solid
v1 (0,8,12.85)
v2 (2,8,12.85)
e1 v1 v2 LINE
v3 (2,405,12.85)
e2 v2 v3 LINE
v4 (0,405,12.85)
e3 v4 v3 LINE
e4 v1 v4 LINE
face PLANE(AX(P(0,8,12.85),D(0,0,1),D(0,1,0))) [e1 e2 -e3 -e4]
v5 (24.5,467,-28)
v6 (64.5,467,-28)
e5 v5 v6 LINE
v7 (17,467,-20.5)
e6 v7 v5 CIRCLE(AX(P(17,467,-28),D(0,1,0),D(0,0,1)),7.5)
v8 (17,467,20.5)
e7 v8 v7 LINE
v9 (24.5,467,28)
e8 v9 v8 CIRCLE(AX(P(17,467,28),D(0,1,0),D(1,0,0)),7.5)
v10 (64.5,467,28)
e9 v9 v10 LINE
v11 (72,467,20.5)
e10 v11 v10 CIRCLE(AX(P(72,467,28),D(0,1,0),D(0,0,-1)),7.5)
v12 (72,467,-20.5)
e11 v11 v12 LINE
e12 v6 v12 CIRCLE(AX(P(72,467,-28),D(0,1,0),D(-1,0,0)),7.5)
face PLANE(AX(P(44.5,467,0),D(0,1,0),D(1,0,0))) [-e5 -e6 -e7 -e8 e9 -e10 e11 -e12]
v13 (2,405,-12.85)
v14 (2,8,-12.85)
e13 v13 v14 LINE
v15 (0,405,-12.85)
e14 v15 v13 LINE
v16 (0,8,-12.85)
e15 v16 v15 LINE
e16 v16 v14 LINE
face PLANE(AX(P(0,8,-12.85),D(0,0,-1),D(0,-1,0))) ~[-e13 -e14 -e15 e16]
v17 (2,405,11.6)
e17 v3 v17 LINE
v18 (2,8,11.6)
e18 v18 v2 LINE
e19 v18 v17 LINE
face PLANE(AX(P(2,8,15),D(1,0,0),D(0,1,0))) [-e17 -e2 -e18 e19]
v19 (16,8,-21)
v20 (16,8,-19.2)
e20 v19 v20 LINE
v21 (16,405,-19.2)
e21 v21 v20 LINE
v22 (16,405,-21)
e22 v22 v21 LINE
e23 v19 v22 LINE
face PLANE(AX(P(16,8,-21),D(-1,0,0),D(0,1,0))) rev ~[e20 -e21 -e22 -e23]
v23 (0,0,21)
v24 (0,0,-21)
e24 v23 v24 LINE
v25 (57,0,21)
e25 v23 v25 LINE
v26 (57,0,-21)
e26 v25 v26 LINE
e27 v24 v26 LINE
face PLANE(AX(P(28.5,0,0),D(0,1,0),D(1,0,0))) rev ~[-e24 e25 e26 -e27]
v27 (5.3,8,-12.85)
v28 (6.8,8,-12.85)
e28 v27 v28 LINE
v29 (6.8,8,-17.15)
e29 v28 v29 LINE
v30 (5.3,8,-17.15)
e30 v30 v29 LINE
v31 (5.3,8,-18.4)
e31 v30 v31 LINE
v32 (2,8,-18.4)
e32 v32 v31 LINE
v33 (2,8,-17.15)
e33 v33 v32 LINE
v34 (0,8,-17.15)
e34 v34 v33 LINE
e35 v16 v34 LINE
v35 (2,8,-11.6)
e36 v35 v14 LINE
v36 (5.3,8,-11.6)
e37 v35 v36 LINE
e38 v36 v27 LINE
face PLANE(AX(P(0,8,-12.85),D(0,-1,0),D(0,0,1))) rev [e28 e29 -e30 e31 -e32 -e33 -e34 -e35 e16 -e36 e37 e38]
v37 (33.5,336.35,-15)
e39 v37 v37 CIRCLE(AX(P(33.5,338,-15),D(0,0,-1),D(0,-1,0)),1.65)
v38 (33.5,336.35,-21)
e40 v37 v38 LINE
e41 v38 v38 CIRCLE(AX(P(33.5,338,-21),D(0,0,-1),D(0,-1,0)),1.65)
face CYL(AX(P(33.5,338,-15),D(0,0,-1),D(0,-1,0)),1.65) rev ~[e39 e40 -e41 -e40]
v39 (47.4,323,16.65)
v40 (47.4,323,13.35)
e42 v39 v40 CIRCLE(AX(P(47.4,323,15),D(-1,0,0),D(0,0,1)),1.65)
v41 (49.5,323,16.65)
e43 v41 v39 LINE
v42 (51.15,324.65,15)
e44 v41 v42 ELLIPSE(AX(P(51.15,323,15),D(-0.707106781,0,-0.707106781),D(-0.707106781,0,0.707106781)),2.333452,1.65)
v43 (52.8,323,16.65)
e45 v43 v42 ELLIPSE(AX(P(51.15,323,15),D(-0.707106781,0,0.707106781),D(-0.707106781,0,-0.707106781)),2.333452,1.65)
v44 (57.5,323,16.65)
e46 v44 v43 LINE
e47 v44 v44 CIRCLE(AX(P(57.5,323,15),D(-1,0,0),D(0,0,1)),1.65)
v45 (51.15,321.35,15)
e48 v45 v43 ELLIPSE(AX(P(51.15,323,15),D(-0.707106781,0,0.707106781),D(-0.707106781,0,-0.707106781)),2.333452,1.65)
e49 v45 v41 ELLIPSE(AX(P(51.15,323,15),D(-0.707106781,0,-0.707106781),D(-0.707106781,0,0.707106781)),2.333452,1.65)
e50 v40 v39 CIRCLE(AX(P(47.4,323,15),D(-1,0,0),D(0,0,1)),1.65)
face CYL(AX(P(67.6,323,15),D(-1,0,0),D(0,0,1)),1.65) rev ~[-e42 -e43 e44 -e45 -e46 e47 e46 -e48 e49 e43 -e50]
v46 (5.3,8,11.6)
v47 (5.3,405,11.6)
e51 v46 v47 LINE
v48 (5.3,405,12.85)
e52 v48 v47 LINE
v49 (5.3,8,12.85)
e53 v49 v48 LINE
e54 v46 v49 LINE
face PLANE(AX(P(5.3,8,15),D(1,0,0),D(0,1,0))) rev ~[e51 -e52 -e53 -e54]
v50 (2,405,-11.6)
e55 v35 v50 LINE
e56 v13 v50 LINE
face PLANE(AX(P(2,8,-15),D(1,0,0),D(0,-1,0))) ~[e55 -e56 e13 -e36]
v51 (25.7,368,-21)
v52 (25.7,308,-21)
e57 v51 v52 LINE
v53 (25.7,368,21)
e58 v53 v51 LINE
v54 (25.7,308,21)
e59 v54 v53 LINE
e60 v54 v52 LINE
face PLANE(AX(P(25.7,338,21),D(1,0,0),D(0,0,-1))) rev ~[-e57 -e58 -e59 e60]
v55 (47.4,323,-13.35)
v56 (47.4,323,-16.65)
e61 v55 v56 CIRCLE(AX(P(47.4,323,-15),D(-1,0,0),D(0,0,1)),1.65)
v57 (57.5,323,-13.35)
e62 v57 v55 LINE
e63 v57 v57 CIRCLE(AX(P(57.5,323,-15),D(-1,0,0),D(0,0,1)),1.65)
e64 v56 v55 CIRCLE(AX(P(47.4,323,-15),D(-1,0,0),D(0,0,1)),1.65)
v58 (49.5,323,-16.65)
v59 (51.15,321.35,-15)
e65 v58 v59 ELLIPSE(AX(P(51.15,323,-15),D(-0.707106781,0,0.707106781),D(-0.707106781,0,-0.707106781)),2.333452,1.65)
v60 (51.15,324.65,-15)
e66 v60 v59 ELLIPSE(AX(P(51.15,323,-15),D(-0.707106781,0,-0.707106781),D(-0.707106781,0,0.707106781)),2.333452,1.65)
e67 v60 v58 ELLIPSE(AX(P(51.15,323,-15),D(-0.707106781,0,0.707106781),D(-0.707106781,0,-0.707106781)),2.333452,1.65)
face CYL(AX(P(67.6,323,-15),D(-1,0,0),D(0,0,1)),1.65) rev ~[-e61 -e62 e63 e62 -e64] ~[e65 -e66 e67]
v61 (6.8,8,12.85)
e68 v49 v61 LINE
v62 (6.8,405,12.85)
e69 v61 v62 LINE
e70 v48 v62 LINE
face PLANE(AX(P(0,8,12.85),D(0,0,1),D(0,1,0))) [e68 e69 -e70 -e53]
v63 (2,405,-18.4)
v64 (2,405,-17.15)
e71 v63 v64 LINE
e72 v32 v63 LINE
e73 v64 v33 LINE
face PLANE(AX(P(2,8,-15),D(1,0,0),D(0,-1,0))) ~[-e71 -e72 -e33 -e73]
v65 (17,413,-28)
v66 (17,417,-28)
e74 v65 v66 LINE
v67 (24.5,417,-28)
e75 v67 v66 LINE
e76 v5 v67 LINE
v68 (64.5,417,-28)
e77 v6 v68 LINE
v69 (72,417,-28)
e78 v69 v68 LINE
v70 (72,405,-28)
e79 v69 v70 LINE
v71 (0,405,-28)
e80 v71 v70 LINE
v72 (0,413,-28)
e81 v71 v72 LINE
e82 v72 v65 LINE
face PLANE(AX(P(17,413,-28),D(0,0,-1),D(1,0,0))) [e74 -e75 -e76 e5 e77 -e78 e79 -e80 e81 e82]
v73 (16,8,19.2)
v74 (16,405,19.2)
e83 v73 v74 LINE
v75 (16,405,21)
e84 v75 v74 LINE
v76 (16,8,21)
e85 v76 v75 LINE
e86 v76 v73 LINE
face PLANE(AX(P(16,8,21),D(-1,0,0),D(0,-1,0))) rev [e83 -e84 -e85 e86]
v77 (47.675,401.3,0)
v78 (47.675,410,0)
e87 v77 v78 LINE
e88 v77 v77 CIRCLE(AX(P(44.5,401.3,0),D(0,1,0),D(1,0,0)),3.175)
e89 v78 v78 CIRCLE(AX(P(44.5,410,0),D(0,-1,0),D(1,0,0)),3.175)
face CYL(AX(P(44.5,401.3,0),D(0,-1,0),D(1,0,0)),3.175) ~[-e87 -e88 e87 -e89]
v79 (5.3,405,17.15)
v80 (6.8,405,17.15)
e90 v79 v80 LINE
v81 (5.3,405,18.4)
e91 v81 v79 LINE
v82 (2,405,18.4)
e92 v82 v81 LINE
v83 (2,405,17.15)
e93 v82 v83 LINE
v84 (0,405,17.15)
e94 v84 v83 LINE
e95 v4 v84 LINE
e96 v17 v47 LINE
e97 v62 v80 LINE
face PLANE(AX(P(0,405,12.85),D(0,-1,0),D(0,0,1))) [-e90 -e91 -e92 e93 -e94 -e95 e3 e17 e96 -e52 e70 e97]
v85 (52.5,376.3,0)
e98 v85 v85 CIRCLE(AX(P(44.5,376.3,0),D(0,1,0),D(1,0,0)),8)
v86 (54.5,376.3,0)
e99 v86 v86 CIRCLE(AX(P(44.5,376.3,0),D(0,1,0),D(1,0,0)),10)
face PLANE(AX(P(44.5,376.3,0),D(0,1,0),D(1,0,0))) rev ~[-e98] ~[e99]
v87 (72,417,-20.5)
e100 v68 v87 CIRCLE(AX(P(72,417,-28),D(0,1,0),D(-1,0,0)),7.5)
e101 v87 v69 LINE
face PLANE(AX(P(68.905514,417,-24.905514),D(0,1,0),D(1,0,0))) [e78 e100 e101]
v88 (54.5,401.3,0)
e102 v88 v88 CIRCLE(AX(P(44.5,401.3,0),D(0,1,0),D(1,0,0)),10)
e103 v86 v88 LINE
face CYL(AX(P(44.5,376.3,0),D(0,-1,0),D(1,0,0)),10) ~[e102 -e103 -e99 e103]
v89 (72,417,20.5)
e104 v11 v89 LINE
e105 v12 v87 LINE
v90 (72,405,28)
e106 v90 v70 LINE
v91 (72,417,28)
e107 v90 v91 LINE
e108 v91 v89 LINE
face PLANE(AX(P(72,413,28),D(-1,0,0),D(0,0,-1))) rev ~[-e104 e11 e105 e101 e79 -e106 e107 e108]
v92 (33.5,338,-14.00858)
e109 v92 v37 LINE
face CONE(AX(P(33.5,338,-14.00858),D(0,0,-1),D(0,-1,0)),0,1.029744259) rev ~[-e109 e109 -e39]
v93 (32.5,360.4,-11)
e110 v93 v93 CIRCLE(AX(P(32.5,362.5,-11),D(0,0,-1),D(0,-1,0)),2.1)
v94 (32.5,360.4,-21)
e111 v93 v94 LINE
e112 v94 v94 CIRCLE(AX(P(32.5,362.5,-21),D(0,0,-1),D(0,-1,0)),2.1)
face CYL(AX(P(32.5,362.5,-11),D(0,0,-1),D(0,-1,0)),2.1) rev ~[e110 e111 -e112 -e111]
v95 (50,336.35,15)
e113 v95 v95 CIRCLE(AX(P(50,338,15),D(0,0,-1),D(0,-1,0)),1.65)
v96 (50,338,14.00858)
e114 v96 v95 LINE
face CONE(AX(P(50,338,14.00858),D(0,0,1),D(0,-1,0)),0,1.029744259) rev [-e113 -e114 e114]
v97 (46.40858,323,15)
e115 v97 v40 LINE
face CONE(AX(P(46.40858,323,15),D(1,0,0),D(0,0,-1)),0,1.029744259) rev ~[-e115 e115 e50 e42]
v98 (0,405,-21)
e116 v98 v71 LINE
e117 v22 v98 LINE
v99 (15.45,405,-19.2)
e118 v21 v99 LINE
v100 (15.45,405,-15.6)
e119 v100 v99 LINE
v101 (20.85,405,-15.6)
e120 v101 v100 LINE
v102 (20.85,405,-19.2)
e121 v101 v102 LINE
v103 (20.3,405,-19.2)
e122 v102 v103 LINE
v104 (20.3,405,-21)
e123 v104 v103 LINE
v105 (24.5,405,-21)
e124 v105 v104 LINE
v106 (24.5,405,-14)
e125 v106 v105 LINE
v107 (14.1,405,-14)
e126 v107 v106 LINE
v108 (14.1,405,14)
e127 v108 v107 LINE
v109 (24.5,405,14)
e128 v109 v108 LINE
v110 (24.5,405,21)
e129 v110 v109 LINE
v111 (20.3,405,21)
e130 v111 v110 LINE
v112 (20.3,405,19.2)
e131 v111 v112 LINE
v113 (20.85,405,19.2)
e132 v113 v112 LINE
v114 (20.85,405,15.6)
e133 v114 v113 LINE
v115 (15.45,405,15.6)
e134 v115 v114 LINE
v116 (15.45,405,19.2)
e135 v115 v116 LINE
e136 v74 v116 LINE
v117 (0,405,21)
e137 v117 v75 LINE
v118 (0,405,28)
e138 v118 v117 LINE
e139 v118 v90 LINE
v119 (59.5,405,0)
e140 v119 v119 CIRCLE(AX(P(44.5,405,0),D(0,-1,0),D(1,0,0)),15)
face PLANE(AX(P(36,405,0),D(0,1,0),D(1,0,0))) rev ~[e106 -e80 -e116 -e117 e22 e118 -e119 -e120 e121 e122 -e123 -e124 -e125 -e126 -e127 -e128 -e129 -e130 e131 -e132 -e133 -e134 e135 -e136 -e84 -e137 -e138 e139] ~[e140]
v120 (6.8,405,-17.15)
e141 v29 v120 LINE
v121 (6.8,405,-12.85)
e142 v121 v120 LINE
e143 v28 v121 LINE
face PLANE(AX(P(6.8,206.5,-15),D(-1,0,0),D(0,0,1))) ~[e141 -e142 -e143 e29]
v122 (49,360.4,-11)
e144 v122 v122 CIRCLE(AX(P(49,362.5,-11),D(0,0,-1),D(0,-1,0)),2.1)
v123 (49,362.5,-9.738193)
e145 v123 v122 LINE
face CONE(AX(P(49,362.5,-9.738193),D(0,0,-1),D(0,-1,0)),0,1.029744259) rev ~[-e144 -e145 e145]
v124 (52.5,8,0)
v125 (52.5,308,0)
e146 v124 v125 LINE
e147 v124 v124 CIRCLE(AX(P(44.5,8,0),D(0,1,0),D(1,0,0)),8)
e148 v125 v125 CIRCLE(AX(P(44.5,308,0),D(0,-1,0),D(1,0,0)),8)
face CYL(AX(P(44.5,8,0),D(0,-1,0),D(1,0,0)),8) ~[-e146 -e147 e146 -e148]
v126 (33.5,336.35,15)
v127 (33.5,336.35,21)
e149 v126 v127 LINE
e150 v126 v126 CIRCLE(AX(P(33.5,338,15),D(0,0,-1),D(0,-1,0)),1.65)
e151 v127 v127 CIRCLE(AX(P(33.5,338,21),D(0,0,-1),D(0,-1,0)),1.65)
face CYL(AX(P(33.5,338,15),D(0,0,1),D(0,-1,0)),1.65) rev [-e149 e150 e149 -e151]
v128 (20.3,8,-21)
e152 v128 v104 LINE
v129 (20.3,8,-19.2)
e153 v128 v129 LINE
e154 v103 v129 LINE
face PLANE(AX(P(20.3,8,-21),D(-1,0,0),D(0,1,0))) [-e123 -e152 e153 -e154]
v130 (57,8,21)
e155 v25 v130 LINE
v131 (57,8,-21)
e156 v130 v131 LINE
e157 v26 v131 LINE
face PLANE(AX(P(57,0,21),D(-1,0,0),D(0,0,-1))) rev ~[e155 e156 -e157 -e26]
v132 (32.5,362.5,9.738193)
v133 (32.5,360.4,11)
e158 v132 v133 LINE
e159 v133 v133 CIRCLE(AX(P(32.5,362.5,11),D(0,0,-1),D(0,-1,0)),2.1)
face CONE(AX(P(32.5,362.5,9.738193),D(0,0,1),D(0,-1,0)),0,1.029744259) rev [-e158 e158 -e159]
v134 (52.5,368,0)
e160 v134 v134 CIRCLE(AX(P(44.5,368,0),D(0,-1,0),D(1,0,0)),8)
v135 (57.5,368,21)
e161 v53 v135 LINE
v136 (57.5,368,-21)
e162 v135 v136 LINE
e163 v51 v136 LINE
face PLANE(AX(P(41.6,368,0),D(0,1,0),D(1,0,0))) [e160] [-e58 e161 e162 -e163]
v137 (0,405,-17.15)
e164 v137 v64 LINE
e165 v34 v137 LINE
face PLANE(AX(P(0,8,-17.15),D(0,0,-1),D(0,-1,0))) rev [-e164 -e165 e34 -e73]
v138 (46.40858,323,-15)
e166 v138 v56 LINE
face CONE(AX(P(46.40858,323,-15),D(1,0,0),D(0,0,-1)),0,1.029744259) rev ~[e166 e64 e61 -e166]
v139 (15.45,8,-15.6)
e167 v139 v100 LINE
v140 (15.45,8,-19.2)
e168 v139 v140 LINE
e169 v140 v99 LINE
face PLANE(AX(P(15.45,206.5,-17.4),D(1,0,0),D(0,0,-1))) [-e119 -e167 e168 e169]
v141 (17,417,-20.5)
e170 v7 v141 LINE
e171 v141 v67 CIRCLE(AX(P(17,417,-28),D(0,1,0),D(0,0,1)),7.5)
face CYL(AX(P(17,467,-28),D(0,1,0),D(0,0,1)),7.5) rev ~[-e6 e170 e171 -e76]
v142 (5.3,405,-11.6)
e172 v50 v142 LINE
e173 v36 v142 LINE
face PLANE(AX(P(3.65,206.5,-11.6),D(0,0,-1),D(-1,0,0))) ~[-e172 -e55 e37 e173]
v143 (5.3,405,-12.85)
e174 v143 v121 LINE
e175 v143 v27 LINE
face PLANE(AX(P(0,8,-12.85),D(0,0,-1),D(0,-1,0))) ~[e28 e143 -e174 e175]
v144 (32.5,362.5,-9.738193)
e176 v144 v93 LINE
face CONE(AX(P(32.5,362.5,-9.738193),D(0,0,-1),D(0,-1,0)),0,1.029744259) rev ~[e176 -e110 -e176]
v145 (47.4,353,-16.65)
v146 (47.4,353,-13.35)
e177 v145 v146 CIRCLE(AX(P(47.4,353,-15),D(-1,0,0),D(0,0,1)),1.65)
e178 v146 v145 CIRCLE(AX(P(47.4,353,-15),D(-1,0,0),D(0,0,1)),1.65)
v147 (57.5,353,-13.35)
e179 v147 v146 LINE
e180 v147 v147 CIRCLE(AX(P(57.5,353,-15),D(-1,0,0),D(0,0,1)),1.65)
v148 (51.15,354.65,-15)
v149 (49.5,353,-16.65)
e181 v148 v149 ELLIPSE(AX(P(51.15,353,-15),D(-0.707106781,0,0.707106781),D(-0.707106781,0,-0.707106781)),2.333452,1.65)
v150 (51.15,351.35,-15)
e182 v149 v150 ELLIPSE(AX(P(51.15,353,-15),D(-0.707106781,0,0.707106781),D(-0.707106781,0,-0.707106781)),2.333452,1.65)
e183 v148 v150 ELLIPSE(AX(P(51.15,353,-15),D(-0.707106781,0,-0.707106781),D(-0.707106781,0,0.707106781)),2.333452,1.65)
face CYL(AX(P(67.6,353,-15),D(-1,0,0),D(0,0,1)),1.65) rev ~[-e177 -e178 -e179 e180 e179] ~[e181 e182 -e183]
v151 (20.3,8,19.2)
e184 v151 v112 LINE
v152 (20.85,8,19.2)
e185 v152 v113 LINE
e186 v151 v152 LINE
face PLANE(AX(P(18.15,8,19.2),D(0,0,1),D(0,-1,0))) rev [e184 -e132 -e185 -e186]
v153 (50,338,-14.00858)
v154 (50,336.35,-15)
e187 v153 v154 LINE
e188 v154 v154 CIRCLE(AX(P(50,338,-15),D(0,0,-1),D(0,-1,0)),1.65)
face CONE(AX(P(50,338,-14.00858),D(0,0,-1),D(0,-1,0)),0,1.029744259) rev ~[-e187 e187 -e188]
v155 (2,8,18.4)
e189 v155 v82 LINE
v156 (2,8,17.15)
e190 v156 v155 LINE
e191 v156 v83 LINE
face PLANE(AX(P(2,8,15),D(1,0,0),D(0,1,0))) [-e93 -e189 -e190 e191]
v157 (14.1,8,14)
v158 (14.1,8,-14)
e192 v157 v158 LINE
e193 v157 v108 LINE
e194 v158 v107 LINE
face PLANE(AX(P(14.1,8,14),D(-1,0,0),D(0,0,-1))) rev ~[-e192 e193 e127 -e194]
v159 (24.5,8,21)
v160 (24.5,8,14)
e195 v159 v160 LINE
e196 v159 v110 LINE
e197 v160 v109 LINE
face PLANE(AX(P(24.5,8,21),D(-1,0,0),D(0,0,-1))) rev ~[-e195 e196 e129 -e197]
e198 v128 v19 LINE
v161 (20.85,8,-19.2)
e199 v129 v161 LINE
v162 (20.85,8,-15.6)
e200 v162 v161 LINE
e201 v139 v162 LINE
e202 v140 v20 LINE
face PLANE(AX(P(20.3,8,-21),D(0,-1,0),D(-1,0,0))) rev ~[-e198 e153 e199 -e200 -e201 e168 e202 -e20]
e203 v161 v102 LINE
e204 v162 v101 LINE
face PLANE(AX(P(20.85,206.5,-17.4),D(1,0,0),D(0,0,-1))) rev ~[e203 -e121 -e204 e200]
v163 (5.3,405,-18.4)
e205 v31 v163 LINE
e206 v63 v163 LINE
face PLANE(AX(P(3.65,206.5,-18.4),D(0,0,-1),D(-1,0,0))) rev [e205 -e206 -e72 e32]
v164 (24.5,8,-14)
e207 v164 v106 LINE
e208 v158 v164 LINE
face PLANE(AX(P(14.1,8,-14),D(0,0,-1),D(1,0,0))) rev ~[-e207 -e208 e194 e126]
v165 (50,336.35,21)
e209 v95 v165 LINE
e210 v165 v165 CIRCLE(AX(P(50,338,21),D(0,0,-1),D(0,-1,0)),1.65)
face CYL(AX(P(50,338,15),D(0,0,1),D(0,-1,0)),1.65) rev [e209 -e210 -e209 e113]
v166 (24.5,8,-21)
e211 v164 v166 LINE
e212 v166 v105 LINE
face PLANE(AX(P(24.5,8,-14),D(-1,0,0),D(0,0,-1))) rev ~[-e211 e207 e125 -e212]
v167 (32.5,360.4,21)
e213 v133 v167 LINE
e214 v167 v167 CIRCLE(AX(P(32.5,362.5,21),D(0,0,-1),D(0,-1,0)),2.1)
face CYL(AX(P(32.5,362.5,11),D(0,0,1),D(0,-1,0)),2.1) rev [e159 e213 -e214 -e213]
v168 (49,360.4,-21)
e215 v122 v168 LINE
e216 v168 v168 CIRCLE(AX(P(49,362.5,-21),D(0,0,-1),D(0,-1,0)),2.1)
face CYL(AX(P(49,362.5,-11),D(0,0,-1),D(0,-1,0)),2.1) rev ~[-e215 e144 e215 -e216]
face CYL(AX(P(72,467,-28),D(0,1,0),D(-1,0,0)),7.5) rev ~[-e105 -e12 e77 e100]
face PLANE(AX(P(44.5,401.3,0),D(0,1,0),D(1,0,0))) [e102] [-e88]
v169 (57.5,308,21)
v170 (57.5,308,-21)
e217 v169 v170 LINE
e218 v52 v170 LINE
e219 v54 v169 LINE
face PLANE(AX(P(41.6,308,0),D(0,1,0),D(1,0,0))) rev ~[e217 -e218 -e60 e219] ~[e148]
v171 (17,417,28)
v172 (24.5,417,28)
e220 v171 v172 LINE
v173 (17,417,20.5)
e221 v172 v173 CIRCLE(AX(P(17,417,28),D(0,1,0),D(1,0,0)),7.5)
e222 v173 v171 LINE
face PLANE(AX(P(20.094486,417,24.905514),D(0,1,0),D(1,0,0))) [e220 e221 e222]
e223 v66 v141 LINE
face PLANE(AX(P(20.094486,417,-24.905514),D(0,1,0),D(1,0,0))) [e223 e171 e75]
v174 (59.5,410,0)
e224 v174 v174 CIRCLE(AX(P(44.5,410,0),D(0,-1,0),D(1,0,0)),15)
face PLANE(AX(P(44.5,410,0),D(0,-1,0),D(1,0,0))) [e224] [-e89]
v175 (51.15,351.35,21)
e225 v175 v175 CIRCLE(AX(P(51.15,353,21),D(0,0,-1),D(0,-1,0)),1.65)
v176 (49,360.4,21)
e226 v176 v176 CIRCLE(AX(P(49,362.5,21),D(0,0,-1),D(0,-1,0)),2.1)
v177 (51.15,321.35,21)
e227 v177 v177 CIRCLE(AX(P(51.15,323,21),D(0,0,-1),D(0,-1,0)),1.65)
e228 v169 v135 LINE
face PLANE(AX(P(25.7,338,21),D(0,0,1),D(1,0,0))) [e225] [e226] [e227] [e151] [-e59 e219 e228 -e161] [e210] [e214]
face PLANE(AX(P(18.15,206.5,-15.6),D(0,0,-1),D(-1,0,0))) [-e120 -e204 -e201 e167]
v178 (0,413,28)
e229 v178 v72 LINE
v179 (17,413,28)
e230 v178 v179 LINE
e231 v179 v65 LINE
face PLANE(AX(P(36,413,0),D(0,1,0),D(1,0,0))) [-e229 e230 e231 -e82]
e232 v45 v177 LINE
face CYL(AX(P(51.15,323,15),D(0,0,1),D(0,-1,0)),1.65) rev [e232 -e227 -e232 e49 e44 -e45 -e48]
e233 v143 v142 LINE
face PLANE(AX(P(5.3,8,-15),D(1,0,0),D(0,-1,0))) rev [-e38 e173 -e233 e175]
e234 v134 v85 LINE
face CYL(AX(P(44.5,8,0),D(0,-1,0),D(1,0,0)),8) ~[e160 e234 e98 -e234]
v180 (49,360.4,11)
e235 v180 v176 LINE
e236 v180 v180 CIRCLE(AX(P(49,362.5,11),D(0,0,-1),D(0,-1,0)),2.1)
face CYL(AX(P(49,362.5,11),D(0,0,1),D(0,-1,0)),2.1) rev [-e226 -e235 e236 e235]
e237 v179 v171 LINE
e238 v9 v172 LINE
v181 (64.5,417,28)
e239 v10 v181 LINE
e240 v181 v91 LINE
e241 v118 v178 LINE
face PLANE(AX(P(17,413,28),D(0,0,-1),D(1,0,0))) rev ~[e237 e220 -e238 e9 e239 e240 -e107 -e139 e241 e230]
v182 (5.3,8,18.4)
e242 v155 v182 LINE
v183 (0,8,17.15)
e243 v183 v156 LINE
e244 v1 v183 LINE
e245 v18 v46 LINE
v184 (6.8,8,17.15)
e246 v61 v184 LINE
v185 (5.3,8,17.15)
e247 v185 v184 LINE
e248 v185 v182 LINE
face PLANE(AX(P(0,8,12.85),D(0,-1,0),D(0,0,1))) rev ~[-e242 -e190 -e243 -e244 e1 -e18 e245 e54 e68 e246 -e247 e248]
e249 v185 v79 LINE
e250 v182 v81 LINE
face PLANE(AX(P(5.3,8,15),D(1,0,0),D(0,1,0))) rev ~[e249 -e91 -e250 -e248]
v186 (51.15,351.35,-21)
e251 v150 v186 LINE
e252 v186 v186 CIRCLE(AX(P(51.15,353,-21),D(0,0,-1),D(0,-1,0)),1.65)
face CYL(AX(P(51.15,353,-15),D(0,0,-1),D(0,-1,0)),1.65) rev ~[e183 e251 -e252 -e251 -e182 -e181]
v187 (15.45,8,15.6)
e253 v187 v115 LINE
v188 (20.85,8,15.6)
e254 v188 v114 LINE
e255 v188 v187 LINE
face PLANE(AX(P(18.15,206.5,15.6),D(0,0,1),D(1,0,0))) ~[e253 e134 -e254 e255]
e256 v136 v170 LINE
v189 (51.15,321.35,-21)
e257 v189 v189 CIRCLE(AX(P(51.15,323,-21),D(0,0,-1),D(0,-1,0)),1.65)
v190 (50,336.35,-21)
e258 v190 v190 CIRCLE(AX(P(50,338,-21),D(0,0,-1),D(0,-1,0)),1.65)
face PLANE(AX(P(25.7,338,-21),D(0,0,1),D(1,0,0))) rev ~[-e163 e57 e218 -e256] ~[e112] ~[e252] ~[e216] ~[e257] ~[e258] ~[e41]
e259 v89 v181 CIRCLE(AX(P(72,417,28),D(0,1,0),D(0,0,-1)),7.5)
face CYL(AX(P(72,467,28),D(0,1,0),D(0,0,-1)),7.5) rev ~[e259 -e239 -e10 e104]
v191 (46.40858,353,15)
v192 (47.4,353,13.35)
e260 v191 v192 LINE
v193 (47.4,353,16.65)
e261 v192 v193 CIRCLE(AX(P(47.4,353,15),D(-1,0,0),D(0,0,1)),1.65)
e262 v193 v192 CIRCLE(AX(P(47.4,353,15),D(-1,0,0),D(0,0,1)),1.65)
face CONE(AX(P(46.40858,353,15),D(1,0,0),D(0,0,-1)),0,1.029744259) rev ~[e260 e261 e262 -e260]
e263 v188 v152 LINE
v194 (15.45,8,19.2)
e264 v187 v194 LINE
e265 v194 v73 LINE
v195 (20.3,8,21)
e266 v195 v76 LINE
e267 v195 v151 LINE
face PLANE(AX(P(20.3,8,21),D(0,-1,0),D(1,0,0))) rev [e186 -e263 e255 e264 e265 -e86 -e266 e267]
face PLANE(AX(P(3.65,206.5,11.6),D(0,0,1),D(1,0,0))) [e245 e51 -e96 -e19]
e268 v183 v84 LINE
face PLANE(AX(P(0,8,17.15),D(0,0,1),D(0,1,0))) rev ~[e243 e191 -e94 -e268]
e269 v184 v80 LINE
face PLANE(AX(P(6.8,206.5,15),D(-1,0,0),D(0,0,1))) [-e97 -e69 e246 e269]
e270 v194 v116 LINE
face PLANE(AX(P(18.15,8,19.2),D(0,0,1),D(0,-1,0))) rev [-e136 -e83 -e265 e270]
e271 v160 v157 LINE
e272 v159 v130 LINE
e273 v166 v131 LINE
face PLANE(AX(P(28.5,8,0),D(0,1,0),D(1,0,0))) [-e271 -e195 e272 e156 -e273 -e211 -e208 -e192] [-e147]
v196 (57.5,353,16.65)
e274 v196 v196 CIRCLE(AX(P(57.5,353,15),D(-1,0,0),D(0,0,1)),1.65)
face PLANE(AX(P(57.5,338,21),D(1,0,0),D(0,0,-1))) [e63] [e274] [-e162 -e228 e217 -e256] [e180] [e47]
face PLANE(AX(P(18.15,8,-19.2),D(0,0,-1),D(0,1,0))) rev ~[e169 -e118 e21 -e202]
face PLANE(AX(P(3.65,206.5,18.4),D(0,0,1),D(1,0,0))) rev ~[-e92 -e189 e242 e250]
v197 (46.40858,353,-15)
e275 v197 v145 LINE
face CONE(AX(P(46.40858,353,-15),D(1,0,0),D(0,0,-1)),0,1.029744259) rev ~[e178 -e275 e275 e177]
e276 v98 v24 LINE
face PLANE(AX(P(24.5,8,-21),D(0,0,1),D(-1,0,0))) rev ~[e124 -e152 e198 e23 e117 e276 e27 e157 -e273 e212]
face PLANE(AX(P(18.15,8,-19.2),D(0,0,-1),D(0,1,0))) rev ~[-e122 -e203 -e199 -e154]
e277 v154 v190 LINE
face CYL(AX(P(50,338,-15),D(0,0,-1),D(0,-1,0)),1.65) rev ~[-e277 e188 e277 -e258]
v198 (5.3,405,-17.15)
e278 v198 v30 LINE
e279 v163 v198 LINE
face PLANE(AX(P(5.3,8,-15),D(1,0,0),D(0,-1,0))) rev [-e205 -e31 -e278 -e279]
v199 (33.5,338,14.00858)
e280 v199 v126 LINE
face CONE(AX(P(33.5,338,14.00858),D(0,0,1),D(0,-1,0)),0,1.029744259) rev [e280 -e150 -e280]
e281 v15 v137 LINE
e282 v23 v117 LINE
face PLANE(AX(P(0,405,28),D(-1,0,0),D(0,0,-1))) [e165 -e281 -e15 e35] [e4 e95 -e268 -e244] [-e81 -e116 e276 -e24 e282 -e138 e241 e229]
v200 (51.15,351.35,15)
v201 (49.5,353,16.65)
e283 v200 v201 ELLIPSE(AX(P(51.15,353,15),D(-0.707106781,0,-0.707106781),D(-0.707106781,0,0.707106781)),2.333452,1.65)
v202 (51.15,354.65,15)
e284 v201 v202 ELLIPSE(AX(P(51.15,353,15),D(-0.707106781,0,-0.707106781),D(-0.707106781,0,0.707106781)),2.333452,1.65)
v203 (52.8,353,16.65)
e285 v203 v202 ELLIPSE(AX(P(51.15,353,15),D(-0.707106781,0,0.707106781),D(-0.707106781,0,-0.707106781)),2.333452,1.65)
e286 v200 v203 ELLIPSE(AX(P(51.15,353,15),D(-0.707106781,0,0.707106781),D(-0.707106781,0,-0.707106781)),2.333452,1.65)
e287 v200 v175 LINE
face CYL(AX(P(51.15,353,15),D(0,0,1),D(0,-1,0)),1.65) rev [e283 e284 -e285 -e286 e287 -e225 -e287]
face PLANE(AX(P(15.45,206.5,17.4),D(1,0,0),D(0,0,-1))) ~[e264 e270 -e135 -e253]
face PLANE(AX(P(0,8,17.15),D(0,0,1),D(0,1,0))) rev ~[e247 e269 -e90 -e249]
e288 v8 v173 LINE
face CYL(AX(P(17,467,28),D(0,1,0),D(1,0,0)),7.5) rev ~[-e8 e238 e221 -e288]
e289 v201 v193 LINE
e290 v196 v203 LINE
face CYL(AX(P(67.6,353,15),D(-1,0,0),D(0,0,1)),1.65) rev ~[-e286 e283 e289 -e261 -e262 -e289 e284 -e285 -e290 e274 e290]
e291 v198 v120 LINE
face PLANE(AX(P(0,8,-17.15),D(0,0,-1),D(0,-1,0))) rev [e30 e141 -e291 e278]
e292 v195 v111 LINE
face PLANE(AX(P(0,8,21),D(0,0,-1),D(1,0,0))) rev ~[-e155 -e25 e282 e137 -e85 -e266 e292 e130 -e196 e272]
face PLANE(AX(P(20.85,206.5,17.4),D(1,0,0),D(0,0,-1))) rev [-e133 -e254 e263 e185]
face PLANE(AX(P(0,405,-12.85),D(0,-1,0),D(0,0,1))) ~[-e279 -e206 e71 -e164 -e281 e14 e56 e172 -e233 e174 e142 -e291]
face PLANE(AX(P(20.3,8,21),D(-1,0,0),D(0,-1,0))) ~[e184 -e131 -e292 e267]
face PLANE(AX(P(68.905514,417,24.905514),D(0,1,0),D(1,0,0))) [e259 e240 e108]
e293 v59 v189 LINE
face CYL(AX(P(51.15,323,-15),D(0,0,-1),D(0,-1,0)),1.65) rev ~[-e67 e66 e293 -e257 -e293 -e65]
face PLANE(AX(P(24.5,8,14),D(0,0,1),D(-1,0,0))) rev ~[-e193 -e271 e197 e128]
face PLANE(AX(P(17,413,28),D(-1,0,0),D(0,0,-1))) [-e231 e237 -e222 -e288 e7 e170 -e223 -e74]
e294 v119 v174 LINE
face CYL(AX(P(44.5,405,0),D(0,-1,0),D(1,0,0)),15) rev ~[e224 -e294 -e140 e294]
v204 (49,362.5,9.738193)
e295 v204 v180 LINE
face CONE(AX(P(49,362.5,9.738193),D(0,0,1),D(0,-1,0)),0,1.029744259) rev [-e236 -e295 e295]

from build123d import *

# Parameters (mm, degrees)
SKETCH1_W                      = 57
SKETCH1_H                      = 42
BOSS_EXTRUDE1_DEPTH            = 8
BOSS_EXTRUDE2_DEPTH            = 397
SKETCH3_W                      = 72
SKETCH3_H                      = 56
BOSS_EXTRUDE3_DEPTH            = 8
SKETCH4_W                      = 55
SKETCH4_H                      = 56
BOSS_EXTRUDE4_DEPTH            = 54
CUT_EXTRUDE1_DEPTH             = 50
SKETCH6_R                      = 8
BOSS_EXTRUDE5_DEPTH            = 368.3
SKETCH7_W                      = 31.8
SKETCH7_H                      = 42
BOSS_EXTRUDE6_DEPTH            = 30
SKETCH8_R                      = 10
BOSS_EXTRUDE7_DEPTH            = 25
SKETCH9_R                      = 15
CUT_EXTRUDE2_DEPTH             = 5
BOSS_EXTRUDE8_REACH            = 67.7
SKETCH10_R                     = 3.175
SKETCH11_W                     = 4.3
SKETCH11_H                     = 397
CUT_EXTRUDE3_DEPTH             = 5.4
SKETCH12_W                     = 3.6
SKETCH12_H                     = 397
CUT_EXTRUDE4_DEPTH             = 2.7
SKETCH13_W                     = 4.3
SKETCH13_H                     = 397
CUT_EXTRUDE5_DEPTH             = 6.8
SKETCH14_W                     = 3.3
SKETCH14_H                     = 397
CUT_EXTRUDE6_DEPTH             = 3.4
M4X0_7_TAPPED_HOLE1_D          = 3.3
M4X0_7_TAPPED_HOLE1_DEPTH      = 10.1
M4X0_7_TAPPED_HOLE1_TIP        = 0.991420021
M4X0_7_TAPPED_HOLE2_AT_2_COUNT = 2
M4X0_7_TAPPED_HOLE2_AT_2_PITCH = 30
M4X0_7_TAPPED_HOLE2_AT_3_COUNT = 2
M4X0_7_TAPPED_HOLE2_AT_3_PITCH = 15.044018745
M4X0_7_TAPPED_HOLE2_AT_4_COUNT = 2
M4X0_7_TAPPED_HOLE2_AT_4_PITCH = 23.162955338
M5X0_8_TAPPED_HOLE1_AT_2_COUNT = 2
M5X0_8_TAPPED_HOLE1_AT_2_PITCH = 16.5


with BuildPart() as part:
    # Sketch1 → Boss-Extrude1 (new body)
    with BuildSketch(Plane(origin=(0, 0, 0), x_dir=(1, 0, 0), z_dir=(0, 1, 0))):
        with Locations((28.5, 0)):
            Rectangle(SKETCH1_W, SKETCH1_H)
    extrude(amount=BOSS_EXTRUDE1_DEPTH)

    # Sketch2 → Boss-Extrude2 (add)
    with BuildSketch(Plane(origin=(0, 8, 0), x_dir=(1, 0, 0), z_dir=(0, 1, 0))):
        Polygon((0, 21), (0, -21), (24.5, -21), (24.5, -14), (14.1, -14), (14.1, 14), (24.5, 14), (24.5, 21), align=None)
    extrude(amount=BOSS_EXTRUDE2_DEPTH)

    # Sketch3 → Boss-Extrude3 (add)
    with BuildSketch(Plane(origin=(0, 405, 0), x_dir=(1, 0, 0), z_dir=(0, 1, 0))):
        with Locations((36, 0)):
            Rectangle(SKETCH3_W, SKETCH3_H)
    extrude(amount=BOSS_EXTRUDE3_DEPTH)

    # Sketch4 → Boss-Extrude4 (add)
    with BuildSketch(Plane(origin=(0, 413, 0), x_dir=(1, 0, 0), z_dir=(0, 1, 0))):
        with Locations((44.5, 0)):
            Rectangle(SKETCH4_W, SKETCH4_H)
    extrude(amount=BOSS_EXTRUDE4_DEPTH)

    # Sketch5 → Cut-Extrude1 (cut)
    with BuildSketch(Plane(origin=(0, 467, 0), x_dir=(1, 0, 0), z_dir=(0, 1, 0))):
        with BuildLine():
            Line((17, 28), (17, 20.5))
            ThreePointArc((17, 20.5), (22.303300859, 22.696699141), (24.5, 28))
            Line((24.5, 28), (17, 28))
        make_face()
        with BuildLine():
            Line((72, 28), (64.5, 28))
            ThreePointArc((64.5, 28), (66.696699141, 22.696699141), (72, 20.5))
            Line((72, 20.5), (72, 28))
        make_face()
        with BuildLine():
            Line((72, -28), (72, -20.5))
            ThreePointArc((72, -20.5), (66.696699141, -22.696699141), (64.5, -28))
            Line((64.5, -28), (72, -28))
        make_face()
        with BuildLine():
            Line((17, -28), (24.5, -28))
            ThreePointArc((24.5, -28), (22.303300859, -22.696699141), (17, -20.5))
            Line((17, -20.5), (17, -28))
        make_face()
    extrude(amount=-CUT_EXTRUDE1_DEPTH, mode=Mode.SUBTRACT)

    # Sketch6 → Boss-Extrude5 (add)
    with BuildSketch(Plane(origin=(0, 8, 0), x_dir=(1, 0, 0), z_dir=(0, 1, 0))):
        with Locations((44.5, 0)):
            Circle(SKETCH6_R)
    extrude(amount=BOSS_EXTRUDE5_DEPTH)

    # Sketch7 → Boss-Extrude6 (add, symmetric)
    with BuildSketch(Plane(origin=(0, 338, 0), x_dir=(1, 0, 0), z_dir=(0, 1, 0))):
        with Locations((41.6, 0)):
            Rectangle(SKETCH7_W, SKETCH7_H)
    extrude(amount=BOSS_EXTRUDE6_DEPTH, both=True)

    # Sketch8 → Boss-Extrude7 (add)
    with BuildSketch(Plane(origin=(0, 376.3, 0), x_dir=(1, 0, 0), z_dir=(0, 1, 0))):
        with Locations((44.5, 0)):
            Circle(SKETCH8_R)
    extrude(amount=BOSS_EXTRUDE7_DEPTH)

    # Sketch9 → Cut-Extrude2 (cut)
    with BuildSketch(Plane.XZ.offset(-405)):
        with Locations((44.5, 0)):
            Circle(SKETCH9_R)
    extrude(amount=-CUT_EXTRUDE2_DEPTH, mode=Mode.SUBTRACT)

    # Sketch10 → Boss-Extrude8 (add, up to next)
    with BuildSketch(Plane(origin=(0, 401.3, 0), x_dir=(1, 0, 0), z_dir=(0, 1, 0)), mode=Mode.PRIVATE) as boss_extrude8_sk1:
        with Locations((44.5, 0)):
            Circle(SKETCH10_R)
    boss_extrude8_tool1 = extrude(boss_extrude8_sk1.sketch, amount=BOSS_EXTRUDE8_REACH, mode=Mode.PRIVATE) - part.part
    add(boss_extrude8_tool1.solids().sort_by_distance((44.5, 401.3, 0))[0])

    # Sketch11 → Cut-Extrude3 (cut)
    with BuildSketch(Plane(origin=(0, 0, -21), x_dir=(-1, 0, 0), z_dir=(0, 0, -1))):
        with Locations((-18.15, 206.5)):
            Rectangle(SKETCH11_W, SKETCH11_H)
    cut_extrude3 = extrude(amount=-CUT_EXTRUDE3_DEPTH, mode=Mode.SUBTRACT)

    # Sketch12 → Cut-Extrude4 (cut, symmetric)
    with BuildSketch(Plane(origin=(18.15, 0, 0), x_dir=(0, 0, -1), z_dir=(1, 0, 0))):
        with Locations((17.4, 206.5)):
            Rectangle(SKETCH12_W, SKETCH12_H)
    cut_extrude4 = extrude(amount=CUT_EXTRUDE4_DEPTH, both=True, mode=Mode.SUBTRACT)

    # Mirror1: Cut-Extrude3, Cut-Extrude4 across plane
    add(cut_extrude3.mirror(Plane.XY), mode=Mode.SUBTRACT)
    add(cut_extrude4.mirror(Plane.XY), mode=Mode.SUBTRACT)

    # Sketch13 → Cut-Extrude5 (cut)
    with BuildSketch(Plane.ZY):
        with Locations((15, 206.5)):
            Rectangle(SKETCH13_W, SKETCH13_H)
    cut_extrude5 = extrude(amount=-CUT_EXTRUDE5_DEPTH, mode=Mode.SUBTRACT)

    # Sketch14 → Cut-Extrude6 (cut, symmetric)
    with BuildSketch(Plane.XY.offset(15)):
        with Locations((3.65, 206.5)):
            Rectangle(SKETCH14_W, SKETCH14_H)
    cut_extrude6 = extrude(amount=CUT_EXTRUDE6_DEPTH, both=True, mode=Mode.SUBTRACT)

    # Mirror2: Cut-Extrude5, Cut-Extrude6 across plane
    add(cut_extrude5.mirror(Plane.XY), mode=Mode.SUBTRACT)
    add(cut_extrude6.mirror(Plane.XY), mode=Mode.SUBTRACT)

    # M4x0.7 Tapped Hole1
    with Locations(Plane(origin=(57.5, 0, 0), x_dir=(0, 0, -1), z_dir=(1, 0, 0))):
        with Locations((-15, 353), (15, 353), (15, 323), (-15, 323)):
            Hole(M4X0_7_TAPPED_HOLE1_D / 2, depth=M4X0_7_TAPPED_HOLE1_DEPTH)
            with Locations((0, 0, -(M4X0_7_TAPPED_HOLE1_DEPTH + M4X0_7_TAPPED_HOLE1_TIP / 2))):  # 118° drill point
                Cone(0, M4X0_7_TAPPED_HOLE1_D / 2, M4X0_7_TAPPED_HOLE1_TIP, mode=Mode.SUBTRACT)

    # Sketch23 → M4x0.7 Tapped Hole2 (revolve, cut)
    with BuildSketch(Plane(origin=(51.15, 323, 21), x_dir=(0, -1, 0), z_dir=(1, 0, 0))):
        Polygon((0, 0), (0, 6.991420021), (1.65, 6), (1.65, 0), align=None)
    m4x0_7_tapped_hole2 = revolve(axis=Axis((51.15, 323, 27.35), (0, 0, -1)), mode=Mode.SUBTRACT)

    # M4x0.7 Tapped Hole2 at 2: M4x0.7 Tapped Hole2 ×2
    with Locations(*[(0, i * M4X0_7_TAPPED_HOLE2_AT_2_PITCH, 0) for i in range(1, M4X0_7_TAPPED_HOLE2_AT_2_COUNT)]):
        add(m4x0_7_tapped_hole2, mode=Mode.SUBTRACT)

    # M4x0.7 Tapped Hole2 at 3: M4x0.7 Tapped Hole2 ×2
    with Locations(*[Vector(-0.07644234, 0.997074004, 0) * (i * M4X0_7_TAPPED_HOLE2_AT_3_PITCH) for i in range(1, M4X0_7_TAPPED_HOLE2_AT_3_COUNT)]):
        add(m4x0_7_tapped_hole2, mode=Mode.SUBTRACT)

    # M4x0.7 Tapped Hole2 at 4: M4x0.7 Tapped Hole2 ×2
    with Locations(*[Vector(-0.761992576, 0.647585758, 0) * (i * M4X0_7_TAPPED_HOLE2_AT_4_PITCH) for i in range(1, M4X0_7_TAPPED_HOLE2_AT_4_COUNT)]):
        add(m4x0_7_tapped_hole2, mode=Mode.SUBTRACT)

    # Sketch25 → M5x0.8 Tapped Hole1 (revolve, cut)
    with BuildSketch(Plane(origin=(32.5, 362.5, 21), x_dir=(0, -1, 0), z_dir=(1, 0, 0))):
        Polygon((0, 0), (0, 11.2618073), (2.1, 10), (2.1, 0), align=None)
    m5x0_8_tapped_hole1 = revolve(axis=Axis((32.5, 362.5, 27.35), (0, 0, -1)), mode=Mode.SUBTRACT)

    # M5x0.8 Tapped Hole1 at 2: M5x0.8 Tapped Hole1 ×2
    with Locations(*[(i * M5X0_8_TAPPED_HOLE1_AT_2_PITCH, 0, 0) for i in range(1, M5X0_8_TAPPED_HOLE1_AT_2_COUNT)]):
        add(m5x0_8_tapped_hole1, mode=Mode.SUBTRACT)

    # Mirror3: M5x0.8 Tapped Hole1, M4x0.7 Tapped Hole2 across plane
    add(m5x0_8_tapped_hole1.mirror(Plane.XY), mode=Mode.SUBTRACT)
    add(m4x0_7_tapped_hole2.mirror(Plane.XY), mode=Mode.SUBTRACT)

    # Mirror3 copy 1 sketch → Mirror3 copy 1 (revolve, cut)
    with BuildSketch(Plane(origin=(49, 362.5, -21), x_dir=(0, -1, 0), z_dir=(1, 0, 0))):
        Polygon((0, 0), (0, -11.2618073), (2.1, -10), (2.1, 0), align=None)
    revolve(axis=Axis((49, 362.5, -27.35), (0, 0, -1)), mode=Mode.SUBTRACT)

    # Mirror3 copy 2 sketch → Mirror3 copy 2 (revolve, cut)
    with BuildSketch(Plane(origin=(51.15, 353, -21), x_dir=(0, -1, 0), z_dir=(1, 0, 0))):
        Polygon((0, 0), (0, -6.991420021), (1.65, -6), (1.65, 0), align=None)
    revolve(axis=Axis((51.15, 353, -27.35), (0, 0, -1)), mode=Mode.SUBTRACT)

    # Mirror3 copy 3 sketch → Mirror3 copy 3 (revolve, cut)
    with BuildSketch(Plane(origin=(50, 338, -21), x_dir=(0, -1, 0), z_dir=(1, 0, 0))):
        Polygon((0, 0), (0, -6.991420021), (1.65, -6), (1.65, 0), align=None)
    revolve(axis=Axis((50, 338, -27.35), (0, 0, -1)), mode=Mode.SUBTRACT)

    # Mirror3 copy 4 sketch → Mirror3 copy 4 (revolve, cut)
    with BuildSketch(Plane(origin=(33.5, 338, -21), x_dir=(0, -1, 0), z_dir=(1, 0, 0))):
        Polygon((0, 0), (0, -6.991420021), (1.65, -6), (1.65, 0), align=None)
    revolve(axis=Axis((33.5, 338, -27.35), (0, 0, -1)), mode=Mode.SUBTRACT)


solid = part.part
